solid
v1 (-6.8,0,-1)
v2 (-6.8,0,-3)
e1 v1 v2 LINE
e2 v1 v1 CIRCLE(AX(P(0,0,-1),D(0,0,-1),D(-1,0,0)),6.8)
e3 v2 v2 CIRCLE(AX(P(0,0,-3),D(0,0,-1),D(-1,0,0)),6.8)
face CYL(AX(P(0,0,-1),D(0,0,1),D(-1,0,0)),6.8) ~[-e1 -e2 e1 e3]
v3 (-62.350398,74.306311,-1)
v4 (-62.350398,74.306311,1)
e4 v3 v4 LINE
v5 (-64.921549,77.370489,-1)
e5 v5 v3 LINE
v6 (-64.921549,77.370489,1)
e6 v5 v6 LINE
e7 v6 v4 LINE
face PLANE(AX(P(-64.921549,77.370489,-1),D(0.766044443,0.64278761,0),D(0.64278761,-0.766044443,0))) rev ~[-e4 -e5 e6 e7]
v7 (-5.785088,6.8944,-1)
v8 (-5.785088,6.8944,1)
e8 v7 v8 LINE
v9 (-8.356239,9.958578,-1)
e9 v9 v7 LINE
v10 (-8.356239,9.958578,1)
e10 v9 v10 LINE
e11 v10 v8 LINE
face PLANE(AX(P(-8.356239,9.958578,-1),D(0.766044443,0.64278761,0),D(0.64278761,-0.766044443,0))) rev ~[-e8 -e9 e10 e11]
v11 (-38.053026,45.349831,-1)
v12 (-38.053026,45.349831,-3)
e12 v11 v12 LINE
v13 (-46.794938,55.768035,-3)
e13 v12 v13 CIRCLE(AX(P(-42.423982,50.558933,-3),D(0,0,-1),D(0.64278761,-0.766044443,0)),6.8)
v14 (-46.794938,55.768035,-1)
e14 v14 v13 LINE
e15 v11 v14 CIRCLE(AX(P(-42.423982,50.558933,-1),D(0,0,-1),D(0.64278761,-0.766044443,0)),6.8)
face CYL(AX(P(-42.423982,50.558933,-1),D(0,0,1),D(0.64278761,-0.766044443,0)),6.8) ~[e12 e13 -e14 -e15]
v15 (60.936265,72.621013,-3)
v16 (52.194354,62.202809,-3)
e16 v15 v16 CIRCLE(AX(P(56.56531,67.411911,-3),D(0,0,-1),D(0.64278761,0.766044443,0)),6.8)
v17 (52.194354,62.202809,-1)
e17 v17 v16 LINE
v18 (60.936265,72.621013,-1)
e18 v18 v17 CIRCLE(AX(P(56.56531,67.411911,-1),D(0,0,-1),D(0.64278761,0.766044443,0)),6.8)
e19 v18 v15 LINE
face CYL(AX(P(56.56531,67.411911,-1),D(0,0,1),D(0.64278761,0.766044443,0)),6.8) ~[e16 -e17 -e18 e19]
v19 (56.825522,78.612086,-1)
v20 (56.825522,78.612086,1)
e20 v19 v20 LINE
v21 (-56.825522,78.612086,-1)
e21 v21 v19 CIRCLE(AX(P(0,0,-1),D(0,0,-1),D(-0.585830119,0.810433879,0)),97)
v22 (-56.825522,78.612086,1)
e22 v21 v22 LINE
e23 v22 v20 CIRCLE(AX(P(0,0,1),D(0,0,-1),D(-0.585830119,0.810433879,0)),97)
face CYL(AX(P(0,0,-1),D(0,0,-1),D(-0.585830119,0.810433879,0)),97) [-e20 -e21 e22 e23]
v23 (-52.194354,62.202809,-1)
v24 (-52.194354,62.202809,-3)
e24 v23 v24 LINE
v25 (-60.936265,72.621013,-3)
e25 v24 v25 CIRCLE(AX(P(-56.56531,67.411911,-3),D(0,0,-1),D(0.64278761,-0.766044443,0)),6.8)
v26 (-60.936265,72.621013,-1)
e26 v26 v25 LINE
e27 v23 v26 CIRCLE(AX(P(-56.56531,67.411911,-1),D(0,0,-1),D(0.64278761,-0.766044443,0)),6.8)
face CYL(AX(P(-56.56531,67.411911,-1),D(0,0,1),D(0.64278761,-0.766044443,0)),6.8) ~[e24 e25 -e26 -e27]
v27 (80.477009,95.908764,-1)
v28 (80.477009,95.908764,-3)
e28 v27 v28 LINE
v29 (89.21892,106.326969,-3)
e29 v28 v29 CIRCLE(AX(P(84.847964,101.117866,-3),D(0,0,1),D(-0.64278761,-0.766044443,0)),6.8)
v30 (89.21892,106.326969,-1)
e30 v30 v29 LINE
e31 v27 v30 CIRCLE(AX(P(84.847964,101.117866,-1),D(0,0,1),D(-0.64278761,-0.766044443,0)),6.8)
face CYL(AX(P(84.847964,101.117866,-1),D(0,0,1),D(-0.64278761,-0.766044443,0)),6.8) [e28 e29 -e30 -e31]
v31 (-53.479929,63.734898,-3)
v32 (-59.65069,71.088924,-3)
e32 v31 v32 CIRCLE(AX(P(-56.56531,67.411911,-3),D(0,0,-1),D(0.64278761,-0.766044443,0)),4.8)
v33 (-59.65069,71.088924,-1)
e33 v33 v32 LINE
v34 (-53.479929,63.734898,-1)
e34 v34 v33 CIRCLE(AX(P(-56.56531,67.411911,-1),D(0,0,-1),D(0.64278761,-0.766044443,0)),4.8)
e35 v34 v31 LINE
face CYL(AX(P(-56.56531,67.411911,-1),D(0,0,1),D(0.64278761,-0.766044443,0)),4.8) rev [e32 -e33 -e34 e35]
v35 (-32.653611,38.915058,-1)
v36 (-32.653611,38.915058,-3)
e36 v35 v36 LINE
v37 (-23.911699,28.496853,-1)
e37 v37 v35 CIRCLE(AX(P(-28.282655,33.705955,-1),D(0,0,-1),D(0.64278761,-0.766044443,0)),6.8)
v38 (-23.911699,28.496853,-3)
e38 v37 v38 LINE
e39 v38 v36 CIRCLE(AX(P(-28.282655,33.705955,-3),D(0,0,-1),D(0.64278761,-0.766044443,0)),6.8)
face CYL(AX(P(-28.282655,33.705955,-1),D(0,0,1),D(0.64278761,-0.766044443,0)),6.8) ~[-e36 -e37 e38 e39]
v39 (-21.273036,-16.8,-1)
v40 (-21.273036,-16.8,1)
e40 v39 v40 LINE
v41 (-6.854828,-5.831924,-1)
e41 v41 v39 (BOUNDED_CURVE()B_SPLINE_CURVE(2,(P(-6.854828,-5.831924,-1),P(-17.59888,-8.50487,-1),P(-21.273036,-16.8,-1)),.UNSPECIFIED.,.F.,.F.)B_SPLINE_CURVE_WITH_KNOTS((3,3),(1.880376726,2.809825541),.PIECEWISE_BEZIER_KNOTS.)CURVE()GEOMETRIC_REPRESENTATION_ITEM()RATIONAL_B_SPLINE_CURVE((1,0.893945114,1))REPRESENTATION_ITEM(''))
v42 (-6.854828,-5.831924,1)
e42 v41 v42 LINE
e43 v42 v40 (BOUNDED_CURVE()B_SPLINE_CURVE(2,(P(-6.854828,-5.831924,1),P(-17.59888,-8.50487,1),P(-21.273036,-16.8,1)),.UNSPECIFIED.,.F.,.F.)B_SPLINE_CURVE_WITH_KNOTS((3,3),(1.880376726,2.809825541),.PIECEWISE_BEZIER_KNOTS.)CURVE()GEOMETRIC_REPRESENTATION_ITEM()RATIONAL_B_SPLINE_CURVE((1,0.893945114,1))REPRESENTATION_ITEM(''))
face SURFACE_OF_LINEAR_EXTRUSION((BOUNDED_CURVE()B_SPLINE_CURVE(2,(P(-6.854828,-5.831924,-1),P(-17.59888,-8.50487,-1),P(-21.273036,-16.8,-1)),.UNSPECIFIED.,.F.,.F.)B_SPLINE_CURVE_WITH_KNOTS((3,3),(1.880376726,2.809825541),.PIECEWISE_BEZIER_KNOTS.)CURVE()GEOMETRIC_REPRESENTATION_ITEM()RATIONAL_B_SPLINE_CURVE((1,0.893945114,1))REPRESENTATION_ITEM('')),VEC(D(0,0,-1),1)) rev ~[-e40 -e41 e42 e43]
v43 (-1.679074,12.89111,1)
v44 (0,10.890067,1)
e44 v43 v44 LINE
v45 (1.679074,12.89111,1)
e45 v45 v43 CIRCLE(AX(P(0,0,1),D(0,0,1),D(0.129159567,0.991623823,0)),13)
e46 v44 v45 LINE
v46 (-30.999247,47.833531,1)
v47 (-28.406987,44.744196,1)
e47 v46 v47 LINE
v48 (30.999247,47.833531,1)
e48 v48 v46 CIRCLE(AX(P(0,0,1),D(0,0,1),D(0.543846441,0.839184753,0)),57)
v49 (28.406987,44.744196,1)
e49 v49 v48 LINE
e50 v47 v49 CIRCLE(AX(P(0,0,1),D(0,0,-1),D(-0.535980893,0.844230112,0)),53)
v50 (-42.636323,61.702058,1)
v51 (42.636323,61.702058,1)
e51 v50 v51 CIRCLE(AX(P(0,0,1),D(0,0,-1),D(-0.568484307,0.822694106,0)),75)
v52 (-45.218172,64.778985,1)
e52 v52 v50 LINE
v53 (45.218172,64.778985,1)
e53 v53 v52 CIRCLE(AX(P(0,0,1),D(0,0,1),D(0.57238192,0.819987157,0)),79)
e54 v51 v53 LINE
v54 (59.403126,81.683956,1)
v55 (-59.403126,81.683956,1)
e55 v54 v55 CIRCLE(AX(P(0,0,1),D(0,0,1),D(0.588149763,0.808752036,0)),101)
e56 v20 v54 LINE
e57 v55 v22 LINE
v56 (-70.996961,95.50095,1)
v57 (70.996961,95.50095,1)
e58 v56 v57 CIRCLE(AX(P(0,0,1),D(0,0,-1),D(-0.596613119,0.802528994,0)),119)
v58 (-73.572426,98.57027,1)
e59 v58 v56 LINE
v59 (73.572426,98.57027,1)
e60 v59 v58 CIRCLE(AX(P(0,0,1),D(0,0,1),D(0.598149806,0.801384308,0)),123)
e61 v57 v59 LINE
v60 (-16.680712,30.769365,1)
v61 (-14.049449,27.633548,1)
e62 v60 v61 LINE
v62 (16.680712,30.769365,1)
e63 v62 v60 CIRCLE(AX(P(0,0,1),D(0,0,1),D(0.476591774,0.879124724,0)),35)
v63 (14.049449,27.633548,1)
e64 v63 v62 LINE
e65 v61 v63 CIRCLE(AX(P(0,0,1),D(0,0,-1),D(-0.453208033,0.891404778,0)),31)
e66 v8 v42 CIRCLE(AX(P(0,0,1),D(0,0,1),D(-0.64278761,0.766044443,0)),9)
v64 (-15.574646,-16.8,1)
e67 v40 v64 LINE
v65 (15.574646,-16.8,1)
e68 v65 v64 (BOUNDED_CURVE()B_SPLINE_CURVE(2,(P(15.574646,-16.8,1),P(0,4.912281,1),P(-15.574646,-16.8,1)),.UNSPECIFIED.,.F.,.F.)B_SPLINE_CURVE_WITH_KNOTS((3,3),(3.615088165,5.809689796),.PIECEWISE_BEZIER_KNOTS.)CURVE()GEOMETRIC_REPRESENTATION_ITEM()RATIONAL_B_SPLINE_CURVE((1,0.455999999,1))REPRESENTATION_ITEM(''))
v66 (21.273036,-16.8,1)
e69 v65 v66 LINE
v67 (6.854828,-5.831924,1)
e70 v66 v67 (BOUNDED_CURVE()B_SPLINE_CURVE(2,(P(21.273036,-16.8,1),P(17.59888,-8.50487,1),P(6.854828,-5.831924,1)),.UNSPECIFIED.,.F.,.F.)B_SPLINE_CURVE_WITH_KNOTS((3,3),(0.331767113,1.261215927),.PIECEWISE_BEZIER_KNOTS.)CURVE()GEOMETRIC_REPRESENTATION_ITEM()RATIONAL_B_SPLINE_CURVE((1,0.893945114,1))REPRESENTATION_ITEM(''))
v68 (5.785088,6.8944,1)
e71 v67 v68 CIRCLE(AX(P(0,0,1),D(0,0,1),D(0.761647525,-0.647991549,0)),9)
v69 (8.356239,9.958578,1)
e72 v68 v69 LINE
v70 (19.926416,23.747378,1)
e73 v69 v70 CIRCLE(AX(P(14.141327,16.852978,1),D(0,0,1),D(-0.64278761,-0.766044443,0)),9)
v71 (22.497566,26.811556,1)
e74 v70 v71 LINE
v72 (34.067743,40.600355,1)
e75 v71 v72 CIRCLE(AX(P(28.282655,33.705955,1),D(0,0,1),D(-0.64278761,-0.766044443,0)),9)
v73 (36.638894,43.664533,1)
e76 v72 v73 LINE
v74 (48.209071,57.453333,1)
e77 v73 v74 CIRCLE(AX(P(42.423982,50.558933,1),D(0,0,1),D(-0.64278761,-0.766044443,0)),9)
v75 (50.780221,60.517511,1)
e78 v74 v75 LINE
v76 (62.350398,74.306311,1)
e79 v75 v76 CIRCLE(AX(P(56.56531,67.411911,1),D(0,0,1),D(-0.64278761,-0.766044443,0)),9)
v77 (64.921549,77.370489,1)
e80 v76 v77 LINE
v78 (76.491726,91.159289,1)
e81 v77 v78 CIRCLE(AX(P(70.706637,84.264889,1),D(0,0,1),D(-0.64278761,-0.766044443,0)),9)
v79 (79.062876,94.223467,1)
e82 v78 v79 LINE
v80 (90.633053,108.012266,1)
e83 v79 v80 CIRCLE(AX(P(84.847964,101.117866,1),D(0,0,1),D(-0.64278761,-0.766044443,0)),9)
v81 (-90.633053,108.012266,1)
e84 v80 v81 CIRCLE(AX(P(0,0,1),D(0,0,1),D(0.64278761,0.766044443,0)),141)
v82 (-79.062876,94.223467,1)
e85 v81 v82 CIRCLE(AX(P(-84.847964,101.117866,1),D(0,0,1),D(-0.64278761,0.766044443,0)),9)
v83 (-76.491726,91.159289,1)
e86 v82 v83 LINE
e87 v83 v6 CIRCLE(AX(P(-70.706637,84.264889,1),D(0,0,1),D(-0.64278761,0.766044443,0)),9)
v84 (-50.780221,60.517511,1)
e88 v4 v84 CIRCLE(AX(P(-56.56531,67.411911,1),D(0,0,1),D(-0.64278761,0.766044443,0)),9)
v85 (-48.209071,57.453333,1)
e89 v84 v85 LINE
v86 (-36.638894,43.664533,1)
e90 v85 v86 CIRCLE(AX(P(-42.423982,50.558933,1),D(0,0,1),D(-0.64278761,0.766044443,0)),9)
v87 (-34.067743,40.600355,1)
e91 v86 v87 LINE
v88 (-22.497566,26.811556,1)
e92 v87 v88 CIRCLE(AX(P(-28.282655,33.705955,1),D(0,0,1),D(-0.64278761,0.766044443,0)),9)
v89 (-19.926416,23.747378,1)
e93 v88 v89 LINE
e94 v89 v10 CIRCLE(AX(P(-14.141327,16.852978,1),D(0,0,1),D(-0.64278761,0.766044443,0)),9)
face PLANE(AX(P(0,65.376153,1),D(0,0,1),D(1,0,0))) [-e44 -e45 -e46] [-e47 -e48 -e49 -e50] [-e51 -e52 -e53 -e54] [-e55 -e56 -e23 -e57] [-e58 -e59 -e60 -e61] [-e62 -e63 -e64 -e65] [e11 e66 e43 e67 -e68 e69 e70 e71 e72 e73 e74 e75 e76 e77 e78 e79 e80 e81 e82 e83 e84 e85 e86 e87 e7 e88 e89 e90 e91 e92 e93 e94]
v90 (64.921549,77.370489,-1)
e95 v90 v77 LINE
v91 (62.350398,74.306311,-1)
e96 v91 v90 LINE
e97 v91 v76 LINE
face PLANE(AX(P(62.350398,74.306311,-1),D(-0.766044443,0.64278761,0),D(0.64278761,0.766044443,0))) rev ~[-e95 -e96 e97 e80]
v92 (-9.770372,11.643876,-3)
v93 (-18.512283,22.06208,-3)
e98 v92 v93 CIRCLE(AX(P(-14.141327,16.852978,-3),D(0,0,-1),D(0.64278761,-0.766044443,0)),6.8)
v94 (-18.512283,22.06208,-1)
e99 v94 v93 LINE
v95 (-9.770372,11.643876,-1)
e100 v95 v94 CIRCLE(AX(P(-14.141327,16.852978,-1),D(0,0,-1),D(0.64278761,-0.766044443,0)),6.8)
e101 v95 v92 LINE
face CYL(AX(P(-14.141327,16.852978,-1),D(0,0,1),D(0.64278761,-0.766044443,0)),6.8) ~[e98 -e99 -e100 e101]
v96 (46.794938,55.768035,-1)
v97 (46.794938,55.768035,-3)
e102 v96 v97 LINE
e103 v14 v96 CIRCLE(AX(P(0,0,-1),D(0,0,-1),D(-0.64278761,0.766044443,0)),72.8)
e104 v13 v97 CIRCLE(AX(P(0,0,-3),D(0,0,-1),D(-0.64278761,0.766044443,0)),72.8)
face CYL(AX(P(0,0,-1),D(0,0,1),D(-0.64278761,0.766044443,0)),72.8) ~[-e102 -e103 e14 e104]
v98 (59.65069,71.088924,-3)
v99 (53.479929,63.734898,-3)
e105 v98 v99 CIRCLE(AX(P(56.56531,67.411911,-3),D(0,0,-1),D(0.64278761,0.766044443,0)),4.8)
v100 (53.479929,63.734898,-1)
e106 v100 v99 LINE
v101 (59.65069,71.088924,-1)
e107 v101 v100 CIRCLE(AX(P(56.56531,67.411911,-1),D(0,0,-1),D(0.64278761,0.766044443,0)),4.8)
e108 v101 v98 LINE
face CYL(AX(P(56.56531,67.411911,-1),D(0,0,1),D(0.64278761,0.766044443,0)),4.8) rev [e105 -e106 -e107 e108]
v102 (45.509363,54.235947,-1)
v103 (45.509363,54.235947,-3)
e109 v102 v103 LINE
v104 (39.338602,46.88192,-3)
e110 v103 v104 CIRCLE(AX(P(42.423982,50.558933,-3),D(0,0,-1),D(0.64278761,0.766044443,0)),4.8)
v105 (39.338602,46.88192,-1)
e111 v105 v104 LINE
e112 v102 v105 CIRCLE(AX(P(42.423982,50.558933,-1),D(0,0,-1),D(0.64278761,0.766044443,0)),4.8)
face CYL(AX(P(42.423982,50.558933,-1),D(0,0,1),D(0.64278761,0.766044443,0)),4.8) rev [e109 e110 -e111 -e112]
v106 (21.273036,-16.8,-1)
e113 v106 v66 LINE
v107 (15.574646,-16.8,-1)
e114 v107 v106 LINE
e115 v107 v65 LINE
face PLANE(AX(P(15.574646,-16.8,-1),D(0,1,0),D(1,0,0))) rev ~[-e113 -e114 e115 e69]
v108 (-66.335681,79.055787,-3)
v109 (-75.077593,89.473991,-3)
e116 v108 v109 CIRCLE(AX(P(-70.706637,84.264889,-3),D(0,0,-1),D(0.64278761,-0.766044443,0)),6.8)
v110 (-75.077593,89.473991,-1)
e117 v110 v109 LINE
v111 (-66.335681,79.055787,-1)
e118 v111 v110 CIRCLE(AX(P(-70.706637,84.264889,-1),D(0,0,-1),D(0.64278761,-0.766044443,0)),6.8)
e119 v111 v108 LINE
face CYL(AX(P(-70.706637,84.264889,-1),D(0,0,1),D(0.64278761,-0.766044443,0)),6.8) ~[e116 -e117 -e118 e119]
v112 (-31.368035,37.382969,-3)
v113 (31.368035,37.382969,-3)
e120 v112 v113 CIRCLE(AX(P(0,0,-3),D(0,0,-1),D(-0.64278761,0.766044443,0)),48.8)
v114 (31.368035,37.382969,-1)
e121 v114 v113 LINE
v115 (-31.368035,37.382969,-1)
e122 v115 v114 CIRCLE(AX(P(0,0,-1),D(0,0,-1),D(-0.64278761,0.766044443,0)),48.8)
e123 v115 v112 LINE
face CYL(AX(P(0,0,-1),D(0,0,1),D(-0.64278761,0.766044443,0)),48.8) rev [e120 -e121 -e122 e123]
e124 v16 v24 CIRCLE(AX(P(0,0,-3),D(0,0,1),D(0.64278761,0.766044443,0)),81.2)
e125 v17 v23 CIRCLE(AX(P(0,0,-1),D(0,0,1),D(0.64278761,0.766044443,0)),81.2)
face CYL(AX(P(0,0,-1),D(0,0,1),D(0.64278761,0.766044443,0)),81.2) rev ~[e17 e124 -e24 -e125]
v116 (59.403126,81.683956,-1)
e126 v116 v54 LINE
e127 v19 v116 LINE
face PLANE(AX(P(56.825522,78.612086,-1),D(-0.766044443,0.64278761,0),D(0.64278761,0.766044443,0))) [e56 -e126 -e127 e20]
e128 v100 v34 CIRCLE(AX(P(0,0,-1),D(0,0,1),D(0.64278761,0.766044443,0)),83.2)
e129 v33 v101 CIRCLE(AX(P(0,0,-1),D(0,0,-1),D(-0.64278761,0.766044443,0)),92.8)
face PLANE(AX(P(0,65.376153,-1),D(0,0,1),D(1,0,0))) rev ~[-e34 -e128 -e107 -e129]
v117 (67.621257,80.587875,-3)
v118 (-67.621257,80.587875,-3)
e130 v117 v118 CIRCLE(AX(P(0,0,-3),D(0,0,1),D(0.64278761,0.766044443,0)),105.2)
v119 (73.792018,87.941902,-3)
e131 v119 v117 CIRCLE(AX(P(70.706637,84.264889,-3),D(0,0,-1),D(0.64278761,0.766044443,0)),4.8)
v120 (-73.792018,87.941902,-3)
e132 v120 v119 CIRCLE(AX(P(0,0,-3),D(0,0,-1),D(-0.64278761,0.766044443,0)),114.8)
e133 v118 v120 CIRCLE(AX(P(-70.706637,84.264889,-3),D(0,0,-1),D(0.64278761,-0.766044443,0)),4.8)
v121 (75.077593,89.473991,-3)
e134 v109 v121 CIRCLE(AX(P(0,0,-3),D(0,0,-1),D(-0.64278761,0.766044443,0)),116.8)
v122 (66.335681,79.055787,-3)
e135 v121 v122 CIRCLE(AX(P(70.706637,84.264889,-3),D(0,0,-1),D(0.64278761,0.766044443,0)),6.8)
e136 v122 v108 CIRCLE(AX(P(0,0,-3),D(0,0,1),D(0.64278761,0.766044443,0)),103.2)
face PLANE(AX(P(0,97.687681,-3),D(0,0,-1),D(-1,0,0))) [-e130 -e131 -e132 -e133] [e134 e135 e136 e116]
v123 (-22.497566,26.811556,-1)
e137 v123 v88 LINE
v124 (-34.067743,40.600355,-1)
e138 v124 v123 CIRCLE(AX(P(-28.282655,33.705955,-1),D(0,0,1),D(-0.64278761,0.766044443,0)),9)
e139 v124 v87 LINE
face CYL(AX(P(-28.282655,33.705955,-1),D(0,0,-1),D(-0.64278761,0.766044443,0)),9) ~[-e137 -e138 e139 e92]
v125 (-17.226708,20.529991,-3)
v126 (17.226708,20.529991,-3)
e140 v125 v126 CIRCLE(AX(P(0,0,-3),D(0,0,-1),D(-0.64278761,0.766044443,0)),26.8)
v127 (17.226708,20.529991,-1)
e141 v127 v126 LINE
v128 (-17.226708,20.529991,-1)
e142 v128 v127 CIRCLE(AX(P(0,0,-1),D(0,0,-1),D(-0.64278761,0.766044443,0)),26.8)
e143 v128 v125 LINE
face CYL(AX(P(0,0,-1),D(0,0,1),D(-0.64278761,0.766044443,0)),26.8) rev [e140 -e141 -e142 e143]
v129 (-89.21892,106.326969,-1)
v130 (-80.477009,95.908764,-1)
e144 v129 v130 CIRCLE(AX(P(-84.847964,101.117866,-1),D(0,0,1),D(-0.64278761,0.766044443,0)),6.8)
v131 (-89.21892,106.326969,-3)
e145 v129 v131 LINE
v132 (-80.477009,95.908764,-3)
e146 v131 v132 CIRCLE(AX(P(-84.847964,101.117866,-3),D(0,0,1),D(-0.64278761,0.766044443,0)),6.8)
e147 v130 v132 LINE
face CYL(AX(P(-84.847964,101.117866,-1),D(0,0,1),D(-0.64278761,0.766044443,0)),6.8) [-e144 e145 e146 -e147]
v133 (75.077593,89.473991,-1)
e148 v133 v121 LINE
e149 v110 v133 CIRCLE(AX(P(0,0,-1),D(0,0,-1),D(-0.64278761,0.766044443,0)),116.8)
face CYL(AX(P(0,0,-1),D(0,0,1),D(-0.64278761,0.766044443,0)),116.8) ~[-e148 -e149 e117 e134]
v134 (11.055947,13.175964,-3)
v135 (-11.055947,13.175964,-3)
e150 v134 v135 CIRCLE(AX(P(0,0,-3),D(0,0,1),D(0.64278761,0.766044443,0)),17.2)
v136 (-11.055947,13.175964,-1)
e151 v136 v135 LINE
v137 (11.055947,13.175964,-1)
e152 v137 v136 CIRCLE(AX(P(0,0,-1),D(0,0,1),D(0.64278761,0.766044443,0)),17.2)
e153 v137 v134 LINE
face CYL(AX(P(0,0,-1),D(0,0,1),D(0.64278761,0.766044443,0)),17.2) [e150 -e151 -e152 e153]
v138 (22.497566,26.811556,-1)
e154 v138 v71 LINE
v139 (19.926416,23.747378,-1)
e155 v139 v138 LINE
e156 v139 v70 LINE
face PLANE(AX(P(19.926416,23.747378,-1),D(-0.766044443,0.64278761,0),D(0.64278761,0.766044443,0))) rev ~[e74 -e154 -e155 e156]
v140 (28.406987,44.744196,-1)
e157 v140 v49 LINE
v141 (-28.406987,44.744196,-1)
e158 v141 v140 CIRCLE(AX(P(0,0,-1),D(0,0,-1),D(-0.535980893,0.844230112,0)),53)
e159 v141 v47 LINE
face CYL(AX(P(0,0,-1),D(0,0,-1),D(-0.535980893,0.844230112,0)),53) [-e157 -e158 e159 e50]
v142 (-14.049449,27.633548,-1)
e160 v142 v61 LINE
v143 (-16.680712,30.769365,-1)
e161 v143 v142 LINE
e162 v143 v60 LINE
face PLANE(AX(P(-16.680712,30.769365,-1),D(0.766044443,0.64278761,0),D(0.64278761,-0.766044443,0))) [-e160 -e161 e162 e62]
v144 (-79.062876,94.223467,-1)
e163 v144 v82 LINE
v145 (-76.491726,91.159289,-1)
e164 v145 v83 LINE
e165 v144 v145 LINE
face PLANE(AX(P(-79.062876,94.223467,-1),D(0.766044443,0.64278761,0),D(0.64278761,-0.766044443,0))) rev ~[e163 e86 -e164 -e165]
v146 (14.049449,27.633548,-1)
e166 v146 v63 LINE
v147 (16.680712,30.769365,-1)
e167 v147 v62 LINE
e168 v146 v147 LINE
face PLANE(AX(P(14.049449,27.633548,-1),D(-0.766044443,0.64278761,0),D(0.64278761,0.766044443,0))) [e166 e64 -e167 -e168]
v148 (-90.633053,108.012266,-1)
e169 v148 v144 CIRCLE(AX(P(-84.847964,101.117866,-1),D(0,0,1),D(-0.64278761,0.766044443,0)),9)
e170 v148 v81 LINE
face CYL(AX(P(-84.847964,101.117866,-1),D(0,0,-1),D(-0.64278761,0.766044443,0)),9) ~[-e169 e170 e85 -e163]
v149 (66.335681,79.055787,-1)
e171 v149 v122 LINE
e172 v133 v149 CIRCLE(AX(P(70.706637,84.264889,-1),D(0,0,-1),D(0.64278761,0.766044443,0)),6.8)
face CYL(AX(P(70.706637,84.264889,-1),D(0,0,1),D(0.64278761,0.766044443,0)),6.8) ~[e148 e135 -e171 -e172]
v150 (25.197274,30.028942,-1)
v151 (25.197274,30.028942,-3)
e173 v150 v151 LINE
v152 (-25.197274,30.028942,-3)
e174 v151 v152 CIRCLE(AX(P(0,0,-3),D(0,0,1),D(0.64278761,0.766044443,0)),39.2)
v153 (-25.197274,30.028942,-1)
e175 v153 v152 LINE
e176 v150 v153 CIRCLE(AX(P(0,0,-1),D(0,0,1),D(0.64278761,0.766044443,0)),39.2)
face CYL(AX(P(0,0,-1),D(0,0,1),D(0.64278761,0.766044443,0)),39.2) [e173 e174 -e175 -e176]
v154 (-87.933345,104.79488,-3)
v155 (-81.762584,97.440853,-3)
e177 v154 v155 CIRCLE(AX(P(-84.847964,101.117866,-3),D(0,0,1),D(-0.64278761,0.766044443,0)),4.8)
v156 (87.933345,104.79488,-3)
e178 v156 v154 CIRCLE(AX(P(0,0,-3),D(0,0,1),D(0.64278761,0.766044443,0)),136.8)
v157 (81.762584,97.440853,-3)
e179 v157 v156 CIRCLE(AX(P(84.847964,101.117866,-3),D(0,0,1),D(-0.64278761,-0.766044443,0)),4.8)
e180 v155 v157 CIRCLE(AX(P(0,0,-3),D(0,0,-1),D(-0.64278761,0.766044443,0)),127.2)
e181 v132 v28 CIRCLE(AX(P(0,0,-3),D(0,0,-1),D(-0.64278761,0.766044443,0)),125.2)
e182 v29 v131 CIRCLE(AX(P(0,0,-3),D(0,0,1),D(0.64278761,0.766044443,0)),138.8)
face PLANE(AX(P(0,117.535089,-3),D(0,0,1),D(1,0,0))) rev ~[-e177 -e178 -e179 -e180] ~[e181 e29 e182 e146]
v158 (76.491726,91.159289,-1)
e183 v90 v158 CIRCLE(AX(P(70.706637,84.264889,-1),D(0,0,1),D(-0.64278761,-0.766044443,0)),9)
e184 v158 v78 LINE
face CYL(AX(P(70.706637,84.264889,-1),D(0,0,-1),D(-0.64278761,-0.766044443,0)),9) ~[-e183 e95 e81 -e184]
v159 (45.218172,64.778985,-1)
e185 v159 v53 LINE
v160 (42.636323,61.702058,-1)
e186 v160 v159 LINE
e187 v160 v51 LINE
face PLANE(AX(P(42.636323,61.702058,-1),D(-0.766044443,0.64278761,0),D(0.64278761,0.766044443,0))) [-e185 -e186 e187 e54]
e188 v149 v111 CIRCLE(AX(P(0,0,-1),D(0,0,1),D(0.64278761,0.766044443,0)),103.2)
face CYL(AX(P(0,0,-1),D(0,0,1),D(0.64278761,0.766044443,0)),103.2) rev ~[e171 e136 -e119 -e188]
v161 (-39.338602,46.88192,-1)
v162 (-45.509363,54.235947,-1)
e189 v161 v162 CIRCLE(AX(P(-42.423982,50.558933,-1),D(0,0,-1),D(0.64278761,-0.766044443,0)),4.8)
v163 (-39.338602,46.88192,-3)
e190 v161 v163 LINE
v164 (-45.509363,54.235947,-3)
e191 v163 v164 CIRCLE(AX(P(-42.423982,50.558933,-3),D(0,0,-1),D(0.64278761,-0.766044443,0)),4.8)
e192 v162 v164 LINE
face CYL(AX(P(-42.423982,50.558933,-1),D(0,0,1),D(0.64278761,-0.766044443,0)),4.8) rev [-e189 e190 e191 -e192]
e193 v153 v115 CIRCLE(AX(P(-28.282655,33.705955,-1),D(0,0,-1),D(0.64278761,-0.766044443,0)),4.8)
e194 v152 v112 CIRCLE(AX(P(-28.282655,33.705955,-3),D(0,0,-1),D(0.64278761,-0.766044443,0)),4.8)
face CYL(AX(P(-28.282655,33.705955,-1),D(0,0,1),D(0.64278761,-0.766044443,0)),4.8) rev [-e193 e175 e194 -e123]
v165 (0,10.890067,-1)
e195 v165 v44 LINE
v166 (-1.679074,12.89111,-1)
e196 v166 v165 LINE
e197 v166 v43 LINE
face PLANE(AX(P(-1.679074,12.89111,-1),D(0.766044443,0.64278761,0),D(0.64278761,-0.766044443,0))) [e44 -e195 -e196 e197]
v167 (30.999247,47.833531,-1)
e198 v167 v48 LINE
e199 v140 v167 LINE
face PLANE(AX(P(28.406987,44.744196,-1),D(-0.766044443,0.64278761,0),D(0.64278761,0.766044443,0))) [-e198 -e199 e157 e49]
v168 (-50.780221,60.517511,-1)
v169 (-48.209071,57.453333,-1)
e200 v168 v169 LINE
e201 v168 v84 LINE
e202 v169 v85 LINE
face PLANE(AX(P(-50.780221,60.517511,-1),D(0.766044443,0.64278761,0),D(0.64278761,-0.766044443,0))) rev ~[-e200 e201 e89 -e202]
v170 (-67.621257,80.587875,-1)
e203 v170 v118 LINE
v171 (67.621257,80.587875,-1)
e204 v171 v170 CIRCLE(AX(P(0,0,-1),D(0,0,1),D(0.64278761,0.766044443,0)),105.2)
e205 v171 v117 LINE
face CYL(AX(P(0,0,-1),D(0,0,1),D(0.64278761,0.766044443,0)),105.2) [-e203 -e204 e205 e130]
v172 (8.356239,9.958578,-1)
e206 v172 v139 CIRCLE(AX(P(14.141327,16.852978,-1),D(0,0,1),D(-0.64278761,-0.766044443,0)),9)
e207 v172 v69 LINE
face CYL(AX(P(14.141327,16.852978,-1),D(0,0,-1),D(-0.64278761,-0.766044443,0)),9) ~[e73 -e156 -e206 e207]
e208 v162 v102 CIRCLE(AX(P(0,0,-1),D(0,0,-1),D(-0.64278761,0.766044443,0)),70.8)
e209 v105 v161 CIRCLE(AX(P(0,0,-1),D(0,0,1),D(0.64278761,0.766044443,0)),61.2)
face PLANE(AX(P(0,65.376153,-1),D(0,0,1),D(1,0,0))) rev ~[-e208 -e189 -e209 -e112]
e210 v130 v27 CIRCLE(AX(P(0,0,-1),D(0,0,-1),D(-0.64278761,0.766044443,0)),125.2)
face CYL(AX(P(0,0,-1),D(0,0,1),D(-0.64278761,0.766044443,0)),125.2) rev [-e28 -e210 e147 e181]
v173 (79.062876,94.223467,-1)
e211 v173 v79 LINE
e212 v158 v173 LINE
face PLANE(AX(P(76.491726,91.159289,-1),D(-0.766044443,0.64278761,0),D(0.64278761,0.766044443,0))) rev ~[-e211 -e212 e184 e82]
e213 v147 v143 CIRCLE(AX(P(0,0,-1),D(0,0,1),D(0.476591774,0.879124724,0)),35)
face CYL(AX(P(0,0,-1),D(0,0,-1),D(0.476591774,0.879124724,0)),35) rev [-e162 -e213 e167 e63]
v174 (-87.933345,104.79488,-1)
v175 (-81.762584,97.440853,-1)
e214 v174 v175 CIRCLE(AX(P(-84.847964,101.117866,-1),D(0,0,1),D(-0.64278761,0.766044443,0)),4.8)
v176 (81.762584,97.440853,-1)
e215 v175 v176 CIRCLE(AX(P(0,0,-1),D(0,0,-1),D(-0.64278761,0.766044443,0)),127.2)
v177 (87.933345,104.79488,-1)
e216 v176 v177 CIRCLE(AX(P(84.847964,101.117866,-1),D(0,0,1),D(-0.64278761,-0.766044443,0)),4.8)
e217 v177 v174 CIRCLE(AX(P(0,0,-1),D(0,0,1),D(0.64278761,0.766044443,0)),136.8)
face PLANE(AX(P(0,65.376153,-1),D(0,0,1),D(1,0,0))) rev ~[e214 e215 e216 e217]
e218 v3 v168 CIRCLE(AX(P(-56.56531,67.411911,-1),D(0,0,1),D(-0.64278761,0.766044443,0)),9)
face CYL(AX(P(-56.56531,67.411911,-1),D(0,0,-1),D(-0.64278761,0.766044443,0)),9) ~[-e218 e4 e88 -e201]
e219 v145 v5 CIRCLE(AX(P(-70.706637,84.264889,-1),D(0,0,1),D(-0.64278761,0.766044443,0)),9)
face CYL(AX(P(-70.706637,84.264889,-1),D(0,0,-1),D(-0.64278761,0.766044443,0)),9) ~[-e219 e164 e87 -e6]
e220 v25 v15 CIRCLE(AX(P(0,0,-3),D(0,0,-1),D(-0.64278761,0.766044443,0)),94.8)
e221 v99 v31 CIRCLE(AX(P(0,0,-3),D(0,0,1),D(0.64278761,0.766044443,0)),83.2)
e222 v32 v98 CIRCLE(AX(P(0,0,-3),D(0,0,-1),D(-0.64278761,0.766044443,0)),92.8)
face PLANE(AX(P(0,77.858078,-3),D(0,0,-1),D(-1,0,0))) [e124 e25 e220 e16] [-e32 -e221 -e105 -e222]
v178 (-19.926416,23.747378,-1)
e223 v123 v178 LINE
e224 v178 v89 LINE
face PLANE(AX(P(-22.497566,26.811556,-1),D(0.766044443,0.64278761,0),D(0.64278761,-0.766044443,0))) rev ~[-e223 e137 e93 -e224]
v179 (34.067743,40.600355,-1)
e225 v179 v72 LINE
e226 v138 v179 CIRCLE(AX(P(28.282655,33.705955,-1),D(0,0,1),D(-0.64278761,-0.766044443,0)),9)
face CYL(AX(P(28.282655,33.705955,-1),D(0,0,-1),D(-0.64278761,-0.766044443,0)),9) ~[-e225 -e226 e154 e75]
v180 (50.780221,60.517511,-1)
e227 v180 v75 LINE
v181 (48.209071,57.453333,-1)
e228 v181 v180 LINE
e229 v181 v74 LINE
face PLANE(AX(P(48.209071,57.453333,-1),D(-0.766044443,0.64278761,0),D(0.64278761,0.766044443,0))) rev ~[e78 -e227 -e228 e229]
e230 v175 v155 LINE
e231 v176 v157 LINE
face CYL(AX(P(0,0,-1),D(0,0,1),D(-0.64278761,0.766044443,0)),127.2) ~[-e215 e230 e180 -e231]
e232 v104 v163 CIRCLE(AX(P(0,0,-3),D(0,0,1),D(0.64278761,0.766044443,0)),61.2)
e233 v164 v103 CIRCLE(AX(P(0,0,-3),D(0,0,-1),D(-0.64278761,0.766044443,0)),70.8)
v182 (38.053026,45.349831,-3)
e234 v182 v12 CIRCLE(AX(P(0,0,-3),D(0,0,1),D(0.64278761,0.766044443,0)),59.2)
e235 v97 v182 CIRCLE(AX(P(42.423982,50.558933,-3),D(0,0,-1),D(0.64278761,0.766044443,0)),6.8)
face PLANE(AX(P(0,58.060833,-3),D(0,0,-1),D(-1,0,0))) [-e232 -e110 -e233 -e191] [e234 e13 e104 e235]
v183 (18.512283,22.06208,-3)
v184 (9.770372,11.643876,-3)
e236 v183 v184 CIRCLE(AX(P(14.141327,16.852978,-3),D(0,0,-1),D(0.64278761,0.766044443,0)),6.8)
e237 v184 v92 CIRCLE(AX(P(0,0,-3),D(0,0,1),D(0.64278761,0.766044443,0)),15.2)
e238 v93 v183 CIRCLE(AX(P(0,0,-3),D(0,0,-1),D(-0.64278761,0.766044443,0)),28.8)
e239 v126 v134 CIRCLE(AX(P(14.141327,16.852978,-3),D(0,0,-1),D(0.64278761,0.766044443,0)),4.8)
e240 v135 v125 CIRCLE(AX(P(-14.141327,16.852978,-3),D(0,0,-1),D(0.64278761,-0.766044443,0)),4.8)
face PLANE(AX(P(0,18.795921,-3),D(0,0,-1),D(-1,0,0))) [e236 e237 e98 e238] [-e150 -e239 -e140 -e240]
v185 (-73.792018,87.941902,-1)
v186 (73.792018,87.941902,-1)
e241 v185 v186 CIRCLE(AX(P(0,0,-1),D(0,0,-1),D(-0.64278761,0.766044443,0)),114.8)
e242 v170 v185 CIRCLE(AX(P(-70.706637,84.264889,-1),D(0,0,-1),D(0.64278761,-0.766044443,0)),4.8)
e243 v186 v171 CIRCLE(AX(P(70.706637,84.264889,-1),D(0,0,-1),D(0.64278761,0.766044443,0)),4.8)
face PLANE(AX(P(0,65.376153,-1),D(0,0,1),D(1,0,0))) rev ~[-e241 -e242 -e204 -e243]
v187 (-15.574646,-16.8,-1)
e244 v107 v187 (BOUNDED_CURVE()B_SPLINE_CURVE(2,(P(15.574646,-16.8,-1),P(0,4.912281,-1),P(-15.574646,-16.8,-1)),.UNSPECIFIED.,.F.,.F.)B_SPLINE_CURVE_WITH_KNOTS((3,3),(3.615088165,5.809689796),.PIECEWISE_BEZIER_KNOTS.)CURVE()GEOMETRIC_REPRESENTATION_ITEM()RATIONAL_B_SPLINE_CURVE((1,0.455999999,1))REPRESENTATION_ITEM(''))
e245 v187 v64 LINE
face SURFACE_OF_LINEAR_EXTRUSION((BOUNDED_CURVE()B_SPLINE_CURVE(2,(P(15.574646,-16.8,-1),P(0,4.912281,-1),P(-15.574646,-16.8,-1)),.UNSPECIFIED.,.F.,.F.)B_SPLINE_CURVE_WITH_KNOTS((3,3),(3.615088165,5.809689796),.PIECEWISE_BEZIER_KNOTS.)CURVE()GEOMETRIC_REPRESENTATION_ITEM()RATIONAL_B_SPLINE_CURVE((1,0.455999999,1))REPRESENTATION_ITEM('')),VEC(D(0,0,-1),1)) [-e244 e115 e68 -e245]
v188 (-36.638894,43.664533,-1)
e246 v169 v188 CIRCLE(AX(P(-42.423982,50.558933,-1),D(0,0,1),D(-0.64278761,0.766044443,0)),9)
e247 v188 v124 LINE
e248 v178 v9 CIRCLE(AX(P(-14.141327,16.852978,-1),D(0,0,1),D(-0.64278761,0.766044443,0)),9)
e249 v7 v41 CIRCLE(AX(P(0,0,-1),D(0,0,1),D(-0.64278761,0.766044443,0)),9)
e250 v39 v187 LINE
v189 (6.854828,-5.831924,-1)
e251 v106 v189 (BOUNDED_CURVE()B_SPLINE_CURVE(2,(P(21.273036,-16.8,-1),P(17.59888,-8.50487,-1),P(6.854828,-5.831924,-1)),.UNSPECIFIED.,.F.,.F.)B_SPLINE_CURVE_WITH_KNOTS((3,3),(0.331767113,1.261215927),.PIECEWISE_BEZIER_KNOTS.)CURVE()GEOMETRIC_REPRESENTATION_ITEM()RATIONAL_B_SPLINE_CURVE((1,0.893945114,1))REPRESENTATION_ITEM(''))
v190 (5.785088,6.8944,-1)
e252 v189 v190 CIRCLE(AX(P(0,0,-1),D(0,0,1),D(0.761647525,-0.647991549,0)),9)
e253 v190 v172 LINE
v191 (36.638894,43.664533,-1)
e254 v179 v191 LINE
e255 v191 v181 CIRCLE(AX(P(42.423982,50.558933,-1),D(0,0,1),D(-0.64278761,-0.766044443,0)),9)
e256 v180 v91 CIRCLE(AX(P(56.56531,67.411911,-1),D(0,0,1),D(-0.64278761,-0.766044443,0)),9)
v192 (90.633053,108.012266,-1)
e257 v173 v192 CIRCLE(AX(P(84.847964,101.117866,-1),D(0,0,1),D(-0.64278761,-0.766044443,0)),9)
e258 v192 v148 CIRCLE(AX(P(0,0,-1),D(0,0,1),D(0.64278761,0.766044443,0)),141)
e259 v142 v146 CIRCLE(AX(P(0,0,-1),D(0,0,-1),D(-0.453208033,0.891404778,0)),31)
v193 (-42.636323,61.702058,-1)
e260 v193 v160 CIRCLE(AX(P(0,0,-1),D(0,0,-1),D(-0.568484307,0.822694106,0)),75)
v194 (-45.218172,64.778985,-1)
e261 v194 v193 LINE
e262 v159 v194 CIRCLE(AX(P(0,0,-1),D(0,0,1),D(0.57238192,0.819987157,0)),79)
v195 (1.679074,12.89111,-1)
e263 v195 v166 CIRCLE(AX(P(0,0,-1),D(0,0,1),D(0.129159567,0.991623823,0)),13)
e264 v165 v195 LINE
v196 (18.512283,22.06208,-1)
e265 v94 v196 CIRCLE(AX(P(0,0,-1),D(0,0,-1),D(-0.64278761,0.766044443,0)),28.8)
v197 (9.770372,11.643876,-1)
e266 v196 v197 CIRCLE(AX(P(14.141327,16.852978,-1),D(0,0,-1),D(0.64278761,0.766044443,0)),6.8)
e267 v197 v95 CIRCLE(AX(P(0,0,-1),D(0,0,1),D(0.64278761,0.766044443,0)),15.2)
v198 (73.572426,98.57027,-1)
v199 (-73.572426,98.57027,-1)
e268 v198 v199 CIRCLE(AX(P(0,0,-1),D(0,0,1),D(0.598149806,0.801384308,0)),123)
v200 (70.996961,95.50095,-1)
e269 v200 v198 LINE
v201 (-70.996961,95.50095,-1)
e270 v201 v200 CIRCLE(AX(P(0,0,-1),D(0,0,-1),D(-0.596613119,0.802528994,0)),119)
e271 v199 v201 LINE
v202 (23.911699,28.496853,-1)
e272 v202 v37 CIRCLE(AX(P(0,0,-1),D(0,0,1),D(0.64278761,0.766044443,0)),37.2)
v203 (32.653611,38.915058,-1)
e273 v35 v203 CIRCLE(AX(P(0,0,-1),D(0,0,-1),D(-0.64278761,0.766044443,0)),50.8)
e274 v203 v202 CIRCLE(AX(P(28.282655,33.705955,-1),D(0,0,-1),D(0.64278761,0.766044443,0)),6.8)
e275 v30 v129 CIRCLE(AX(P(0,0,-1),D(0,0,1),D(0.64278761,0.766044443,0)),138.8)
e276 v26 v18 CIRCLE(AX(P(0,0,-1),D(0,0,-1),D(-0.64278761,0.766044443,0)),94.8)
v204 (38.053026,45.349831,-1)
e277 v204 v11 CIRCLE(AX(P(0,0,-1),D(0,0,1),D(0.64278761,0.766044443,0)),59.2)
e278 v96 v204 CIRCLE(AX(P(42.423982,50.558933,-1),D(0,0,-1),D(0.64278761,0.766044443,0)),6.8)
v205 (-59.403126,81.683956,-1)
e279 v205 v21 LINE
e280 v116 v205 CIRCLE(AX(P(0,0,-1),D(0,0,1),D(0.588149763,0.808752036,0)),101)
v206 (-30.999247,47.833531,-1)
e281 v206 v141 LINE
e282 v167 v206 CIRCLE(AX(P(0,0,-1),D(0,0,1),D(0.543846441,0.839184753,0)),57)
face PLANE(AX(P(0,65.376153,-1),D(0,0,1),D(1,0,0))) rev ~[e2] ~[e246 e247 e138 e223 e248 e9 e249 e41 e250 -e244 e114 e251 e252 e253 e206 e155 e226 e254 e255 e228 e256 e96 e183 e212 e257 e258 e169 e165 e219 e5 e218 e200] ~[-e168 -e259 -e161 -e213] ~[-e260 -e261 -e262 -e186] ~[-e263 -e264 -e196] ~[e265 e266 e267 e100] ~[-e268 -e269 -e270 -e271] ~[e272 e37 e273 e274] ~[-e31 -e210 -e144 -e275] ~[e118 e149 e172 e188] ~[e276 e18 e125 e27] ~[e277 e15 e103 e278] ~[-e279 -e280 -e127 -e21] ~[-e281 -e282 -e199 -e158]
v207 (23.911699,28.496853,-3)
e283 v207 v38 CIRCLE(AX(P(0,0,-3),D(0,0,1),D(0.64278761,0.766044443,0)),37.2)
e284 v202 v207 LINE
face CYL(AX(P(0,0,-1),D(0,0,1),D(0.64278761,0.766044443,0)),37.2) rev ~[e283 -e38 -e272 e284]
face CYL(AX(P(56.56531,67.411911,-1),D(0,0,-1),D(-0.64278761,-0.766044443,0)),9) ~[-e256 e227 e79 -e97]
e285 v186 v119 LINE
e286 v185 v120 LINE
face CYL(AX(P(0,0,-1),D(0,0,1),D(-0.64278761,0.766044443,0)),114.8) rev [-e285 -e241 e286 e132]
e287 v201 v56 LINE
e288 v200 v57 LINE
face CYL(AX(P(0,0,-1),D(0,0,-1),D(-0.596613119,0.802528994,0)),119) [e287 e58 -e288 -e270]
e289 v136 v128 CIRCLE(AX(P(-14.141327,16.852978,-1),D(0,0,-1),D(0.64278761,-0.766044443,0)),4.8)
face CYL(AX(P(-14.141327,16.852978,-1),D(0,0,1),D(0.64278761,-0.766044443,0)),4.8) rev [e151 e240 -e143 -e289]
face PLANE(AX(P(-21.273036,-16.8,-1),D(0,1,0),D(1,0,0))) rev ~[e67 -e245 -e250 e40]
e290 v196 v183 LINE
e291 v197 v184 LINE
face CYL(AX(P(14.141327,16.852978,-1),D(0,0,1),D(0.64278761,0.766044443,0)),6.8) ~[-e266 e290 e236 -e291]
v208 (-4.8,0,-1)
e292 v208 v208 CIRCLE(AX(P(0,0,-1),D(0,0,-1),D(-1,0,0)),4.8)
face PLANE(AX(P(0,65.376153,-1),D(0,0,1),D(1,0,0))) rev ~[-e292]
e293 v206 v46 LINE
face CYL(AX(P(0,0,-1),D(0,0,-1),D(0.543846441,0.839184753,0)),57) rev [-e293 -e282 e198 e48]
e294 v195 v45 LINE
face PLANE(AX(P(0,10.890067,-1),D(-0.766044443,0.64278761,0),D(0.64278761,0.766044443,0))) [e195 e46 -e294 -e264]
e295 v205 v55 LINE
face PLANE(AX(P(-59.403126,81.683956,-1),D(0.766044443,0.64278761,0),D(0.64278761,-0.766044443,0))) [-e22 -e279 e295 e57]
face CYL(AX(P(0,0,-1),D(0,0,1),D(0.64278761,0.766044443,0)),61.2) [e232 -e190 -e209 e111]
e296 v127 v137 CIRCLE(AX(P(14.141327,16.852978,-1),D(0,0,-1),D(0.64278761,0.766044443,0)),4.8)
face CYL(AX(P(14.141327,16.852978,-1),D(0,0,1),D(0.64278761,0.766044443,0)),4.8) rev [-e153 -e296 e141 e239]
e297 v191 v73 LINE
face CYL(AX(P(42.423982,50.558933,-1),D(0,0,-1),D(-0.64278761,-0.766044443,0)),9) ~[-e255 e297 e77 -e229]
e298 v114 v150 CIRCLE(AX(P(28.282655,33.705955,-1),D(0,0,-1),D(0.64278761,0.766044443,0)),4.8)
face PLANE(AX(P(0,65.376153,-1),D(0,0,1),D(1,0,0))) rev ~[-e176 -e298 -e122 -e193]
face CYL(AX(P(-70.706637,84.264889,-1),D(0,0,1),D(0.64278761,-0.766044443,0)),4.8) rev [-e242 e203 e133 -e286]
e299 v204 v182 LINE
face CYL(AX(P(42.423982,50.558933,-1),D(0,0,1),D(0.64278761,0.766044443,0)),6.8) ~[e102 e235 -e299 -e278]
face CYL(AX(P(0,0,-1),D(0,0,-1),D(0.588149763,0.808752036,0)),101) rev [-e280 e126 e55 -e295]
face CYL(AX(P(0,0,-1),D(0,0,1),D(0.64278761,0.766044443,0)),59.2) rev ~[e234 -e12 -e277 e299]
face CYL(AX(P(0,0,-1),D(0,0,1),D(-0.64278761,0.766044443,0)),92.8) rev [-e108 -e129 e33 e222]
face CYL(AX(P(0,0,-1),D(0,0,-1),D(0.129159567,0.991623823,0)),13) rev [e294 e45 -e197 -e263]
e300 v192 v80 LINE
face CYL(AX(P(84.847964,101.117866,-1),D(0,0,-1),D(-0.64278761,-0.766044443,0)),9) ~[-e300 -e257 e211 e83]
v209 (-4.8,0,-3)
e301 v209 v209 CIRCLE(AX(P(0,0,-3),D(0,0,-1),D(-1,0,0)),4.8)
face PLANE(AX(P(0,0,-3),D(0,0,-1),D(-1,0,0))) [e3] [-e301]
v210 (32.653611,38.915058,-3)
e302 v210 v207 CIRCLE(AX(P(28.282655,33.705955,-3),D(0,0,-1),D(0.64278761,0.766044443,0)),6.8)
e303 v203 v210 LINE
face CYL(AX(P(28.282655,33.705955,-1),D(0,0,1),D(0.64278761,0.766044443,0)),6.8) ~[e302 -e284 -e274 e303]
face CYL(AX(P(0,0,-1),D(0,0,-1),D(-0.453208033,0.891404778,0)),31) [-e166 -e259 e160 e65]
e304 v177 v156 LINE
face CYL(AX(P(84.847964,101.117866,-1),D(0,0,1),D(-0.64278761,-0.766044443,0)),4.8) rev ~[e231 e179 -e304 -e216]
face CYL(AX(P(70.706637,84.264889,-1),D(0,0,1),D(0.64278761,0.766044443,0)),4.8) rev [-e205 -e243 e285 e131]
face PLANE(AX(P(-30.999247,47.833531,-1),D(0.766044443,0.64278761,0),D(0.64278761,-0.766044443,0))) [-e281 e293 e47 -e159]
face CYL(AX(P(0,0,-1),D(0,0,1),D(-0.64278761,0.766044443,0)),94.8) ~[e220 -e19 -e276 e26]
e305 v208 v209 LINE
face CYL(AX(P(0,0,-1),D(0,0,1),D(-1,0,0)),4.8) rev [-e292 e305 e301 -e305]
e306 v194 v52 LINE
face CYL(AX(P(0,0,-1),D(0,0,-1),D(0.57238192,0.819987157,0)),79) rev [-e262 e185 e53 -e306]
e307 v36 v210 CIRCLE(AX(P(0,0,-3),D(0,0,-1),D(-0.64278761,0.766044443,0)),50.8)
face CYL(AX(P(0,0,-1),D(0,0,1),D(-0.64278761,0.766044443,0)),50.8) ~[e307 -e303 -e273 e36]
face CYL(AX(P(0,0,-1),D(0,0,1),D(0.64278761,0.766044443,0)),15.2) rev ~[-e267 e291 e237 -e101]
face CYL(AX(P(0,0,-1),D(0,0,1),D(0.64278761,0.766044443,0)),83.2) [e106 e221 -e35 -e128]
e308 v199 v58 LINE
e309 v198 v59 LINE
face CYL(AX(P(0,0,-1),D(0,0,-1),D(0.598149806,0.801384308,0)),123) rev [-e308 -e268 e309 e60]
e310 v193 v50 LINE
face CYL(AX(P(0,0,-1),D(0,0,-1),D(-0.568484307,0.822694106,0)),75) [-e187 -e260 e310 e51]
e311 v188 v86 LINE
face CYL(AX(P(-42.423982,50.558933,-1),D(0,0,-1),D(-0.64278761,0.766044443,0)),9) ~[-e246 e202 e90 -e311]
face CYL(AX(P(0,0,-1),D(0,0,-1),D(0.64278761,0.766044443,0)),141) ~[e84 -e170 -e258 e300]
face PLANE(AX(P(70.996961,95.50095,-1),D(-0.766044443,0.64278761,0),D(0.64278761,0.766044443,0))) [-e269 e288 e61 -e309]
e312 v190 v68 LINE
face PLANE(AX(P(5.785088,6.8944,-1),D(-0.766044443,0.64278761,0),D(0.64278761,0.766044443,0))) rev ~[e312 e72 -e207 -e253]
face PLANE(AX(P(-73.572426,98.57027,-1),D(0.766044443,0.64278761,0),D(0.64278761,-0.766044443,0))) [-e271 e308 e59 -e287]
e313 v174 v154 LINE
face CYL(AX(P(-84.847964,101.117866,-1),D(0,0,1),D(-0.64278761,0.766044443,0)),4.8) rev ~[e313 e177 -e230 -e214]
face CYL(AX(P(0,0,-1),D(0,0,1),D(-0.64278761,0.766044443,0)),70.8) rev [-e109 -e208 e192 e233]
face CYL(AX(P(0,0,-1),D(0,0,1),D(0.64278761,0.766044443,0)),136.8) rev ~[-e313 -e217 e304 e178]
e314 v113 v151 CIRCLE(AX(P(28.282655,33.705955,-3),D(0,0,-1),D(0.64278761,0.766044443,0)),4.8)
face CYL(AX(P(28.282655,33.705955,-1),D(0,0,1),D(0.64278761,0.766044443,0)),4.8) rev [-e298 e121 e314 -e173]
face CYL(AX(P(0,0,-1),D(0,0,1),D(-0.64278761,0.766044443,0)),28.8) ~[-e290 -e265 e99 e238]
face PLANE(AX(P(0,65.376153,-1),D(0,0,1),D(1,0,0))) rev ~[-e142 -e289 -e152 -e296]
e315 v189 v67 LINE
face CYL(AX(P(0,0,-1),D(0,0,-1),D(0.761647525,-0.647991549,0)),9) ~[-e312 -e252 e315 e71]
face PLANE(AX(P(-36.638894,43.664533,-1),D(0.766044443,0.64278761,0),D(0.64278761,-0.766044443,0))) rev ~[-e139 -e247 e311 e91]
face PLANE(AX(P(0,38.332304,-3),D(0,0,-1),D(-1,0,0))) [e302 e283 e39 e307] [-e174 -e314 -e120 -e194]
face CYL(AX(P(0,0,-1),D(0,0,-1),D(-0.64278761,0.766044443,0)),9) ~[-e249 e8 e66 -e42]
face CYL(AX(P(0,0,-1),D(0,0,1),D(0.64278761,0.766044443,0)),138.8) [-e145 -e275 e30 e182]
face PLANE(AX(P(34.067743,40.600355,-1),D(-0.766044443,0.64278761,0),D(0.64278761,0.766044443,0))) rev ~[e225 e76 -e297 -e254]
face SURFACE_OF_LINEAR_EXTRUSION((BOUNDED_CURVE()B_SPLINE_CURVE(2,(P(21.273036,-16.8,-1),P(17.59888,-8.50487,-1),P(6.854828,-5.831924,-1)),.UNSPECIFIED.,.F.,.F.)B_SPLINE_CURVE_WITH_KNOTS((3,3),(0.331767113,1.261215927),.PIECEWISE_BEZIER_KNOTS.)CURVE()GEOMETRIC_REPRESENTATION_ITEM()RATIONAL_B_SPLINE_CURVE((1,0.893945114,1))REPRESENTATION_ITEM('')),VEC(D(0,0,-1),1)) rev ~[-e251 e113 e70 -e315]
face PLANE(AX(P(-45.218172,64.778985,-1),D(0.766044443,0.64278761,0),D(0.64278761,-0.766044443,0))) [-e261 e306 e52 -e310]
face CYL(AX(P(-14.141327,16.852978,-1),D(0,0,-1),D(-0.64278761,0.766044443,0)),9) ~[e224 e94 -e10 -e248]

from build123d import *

# Parameters (mm, degrees)
BOSS_EXTRUDE1_DEPTH      = 1
BOSS_EXTRUDE1_DEPTH_BACK = 1
SKETCH2_R                = 6.8
SKETCH2_R_2              = 4.8
BOSS_EXTRUDE2_DEPTH      = 2


with BuildPart() as part:
    # Sketch1 → Boss-Extrude1 (new, two sides: drawn at the far end of the back side and taken through both)
    with BuildSketch(Plane.XY.offset(-BOSS_EXTRUDE1_DEPTH_BACK)):
        with BuildLine():
            Line((-79.062875991, 94.223466504), (-76.491725553, 91.159288731))
            ThreePointArc((-76.491725553, 91.159288731), (-77.601037054, 78.479800256), (-64.921548578, 77.370488755))
            Line((-64.921548578, 77.370488755), (-62.35039814, 74.306310983))
            ThreePointArc((-62.35039814, 74.306310983), (-63.45970964, 61.626822507), (-50.780221165, 60.517511006))
            Line((-50.780221165, 60.517511006), (-48.209070726, 57.453333234))
            ThreePointArc((-48.209070726, 57.453333234), (-49.318382227, 44.773844759), (-36.638893752, 43.664533258))
            Line((-36.638893752, 43.664533258), (-34.067743313, 40.600355485))
            ThreePointArc((-34.067743313, 40.600355485), (-35.177054814, 27.92086701), (-22.497566339, 26.811555509))
            Line((-22.497566339, 26.811555509), (-19.9264159, 23.747377737))
            ThreePointArc((-19.9264159, 23.747377737), (-21.035727401, 11.067889261), (-8.356238926, 9.958577761))
            Line((-8.356238926, 9.958577761), (-5.785088487, 6.894399988))
            ThreePointArc((-5.785088487, 6.894399988), (-8.968372241, 0.753856314), (-6.854827722, -5.831923945))
            add(Edge.make_bspline(
                [(-6.854827722, -5.831923945), (-17.598880273, -8.504870382), (-21.273035539, -16.800000012)],
                knots=[1.880376726, 1.880376726, 1.880376726, 2.809825541, 2.809825541, 2.809825541], degree=2, weights=[1, 0.893945114, 1]))
            Line((-21.273035539, -16.800000012), (-15.574646072, -16.800000012))
            add(Edge.make_bspline(
                [(15.574646072, -16.800000012), (0, 4.91228076), (-15.574646072, -16.800000012)],
                knots=[3.615088165, 3.615088165, 3.615088165, 5.809689796, 5.809689796, 5.809689796], degree=2, weights=[1, 0.455999999, 1]))
            Line((15.574646072, -16.800000012), (21.273035539, -16.800000012))
            add(Edge.make_bspline(
                [(21.273035539, -16.800000012), (17.598880273, -8.504870382), (6.854827722, -5.831923945)],
                knots=[0.331767113, 0.331767113, 0.331767113, 1.261215927, 1.261215927, 1.261215927], degree=2, weights=[1, 0.893945114, 1]))
            ThreePointArc((6.854827722, -5.831923945), (8.968372241, 0.753856314), (5.785088487, 6.894399988))
            Line((5.785088487, 6.894399988), (8.356238926, 9.958577761))
            ThreePointArc((8.356238926, 9.958577761), (21.035727401, 11.067889261), (19.9264159, 23.747377737))
            Line((19.9264159, 23.747377737), (22.497566339, 26.811555509))
            ThreePointArc((22.497566339, 26.811555509), (35.177054814, 27.92086701), (34.067743313, 40.600355485))
            Line((34.067743313, 40.600355485), (36.638893752, 43.664533258))
            ThreePointArc((36.638893752, 43.664533258), (49.318382227, 44.773844759), (48.209070726, 57.453333234))
            Line((48.209070726, 57.453333234), (50.780221165, 60.517511006))
            ThreePointArc((50.780221165, 60.517511006), (63.45970964, 61.626822507), (62.35039814, 74.306310983))
            Line((62.35039814, 74.306310983), (64.921548578, 77.370488755))
            ThreePointArc((64.921548578, 77.370488755), (77.601037054, 78.479800256), (76.491725553, 91.159288731))
            Line((76.491725553, 91.159288731), (79.062875991, 94.223466504))
            ThreePointArc((79.062875991, 94.223466504), (91.742364467, 95.332778005), (90.633052966, 108.01226648))
            ThreePointArc((90.633052966, 108.01226648), (0, 141), (-90.633052966, 108.01226648))
            ThreePointArc((-90.633052966, 108.01226648), (-91.742364467, 95.332778005), (-79.062875991, 94.223466504))
        make_face()
        with BuildLine():
            Line((-73.572426121, 98.570269933), (-70.996961147, 95.500950298))
            ThreePointArc((-70.996961147, 95.500950298), (0, 119), (70.996961147, 95.500950298))
            Line((70.996961147, 95.500950298), (73.572426121, 98.570269933))
            ThreePointArc((73.572426121, 98.570269933), (0, 123), (-73.572426121, 98.570269933))
        make_face(mode=Mode.SUBTRACT)
        with BuildLine():
            Line((-59.403126055, 81.683955676), (-56.825521539, 78.612086233))
            ThreePointArc((-56.825521539, 78.612086233), (0, 97), (56.825521539, 78.612086233))
            Line((56.825521539, 78.612086233), (59.403126055, 81.683955676))
            ThreePointArc((59.403126055, 81.683955676), (0, 101), (-59.403126055, 81.683955676))
        make_face(mode=Mode.SUBTRACT)
        with BuildLine():
            Line((-45.218171715, 64.778985379), (-42.636323052, 61.702057961))
            ThreePointArc((-42.636323052, 61.702057961), (0, 75), (42.636323052, 61.702057961))
            Line((42.636323052, 61.702057961), (45.218171715, 64.778985379))
            ThreePointArc((45.218171715, 64.778985379), (0, 79), (-45.218171715, 64.778985379))
        make_face(mode=Mode.SUBTRACT)
        with BuildLine():
            Line((-30.999247112, 47.833530901), (-28.406987304, 44.744195962))
            ThreePointArc((-28.406987304, 44.744195962), (0, 53), (28.406987304, 44.744195962))
            Line((28.406987304, 44.744195962), (30.999247112, 47.833530901))
            ThreePointArc((30.999247112, 47.833530901), (0, 57), (-30.999247112, 47.833530901))
        make_face(mode=Mode.SUBTRACT)
        with BuildLine():
            Line((-16.680712092, 30.769365351), (-14.049449019, 27.63354813))
            ThreePointArc((-14.049449019, 27.63354813), (0, 31), (14.049449019, 27.63354813))
            Line((14.049449019, 27.63354813), (16.680712092, 30.769365351))
            ThreePointArc((16.680712092, 30.769365351), (0, 35), (-16.680712092, 30.769365351))
        make_face(mode=Mode.SUBTRACT)
        with BuildLine():
            Line((-1.679074368, 12.891109699), (0, 10.890066788))
            Line((0, 10.890066788), (1.679074368, 12.891109699))
            ThreePointArc((1.679074368, 12.891109699), (0, 13), (-1.679074368, 12.891109699))
        make_face(mode=Mode.SUBTRACT)
    extrude(amount=BOSS_EXTRUDE1_DEPTH + BOSS_EXTRUDE1_DEPTH_BACK)

    # Sketch2 → Boss-Extrude2 (add)
    # profile 1 of 7: a face of its own
    with BuildSketch(Plane(origin=(0, 0, -1), x_dir=(-1, 0, 0), z_dir=(0, 0, -1))):
        Circle(SKETCH2_R)
        Circle(SKETCH2_R_2, mode=Mode.SUBTRACT)
    # profile 2 of 7: a face of its own
    with BuildSketch(Plane(origin=(0, 0, -1), x_dir=(-1, 0, 0), z_dir=(0, 0, -1))):
        with BuildLine():
            ThreePointArc((80.477008733, 95.908764278), (0, 125.2), (-80.477008733, 95.908764278))
            ThreePointArc((-80.477008733, 95.908764278), (-90.057066692, 96.746910746), (-89.218920224, 106.326968705))
            ThreePointArc((-89.218920224, 106.326968705), (0, 138.8), (89.218920224, 106.326968705))
            ThreePointArc((89.218920224, 106.326968705), (90.057066692, 96.746910746), (80.477008733, 95.908764278))
        make_face()
        with BuildLine():
            ThreePointArc((81.762583952, 97.440853165), (0, 127.2), (-81.762583952, 97.440853165))
            ThreePointArc((-81.762583952, 97.440853165), (-88.524977806, 98.032485965), (-87.933345005, 104.794879819))
            ThreePointArc((-87.933345005, 104.794879819), (0, 136.8), (87.933345005, 104.794879819))
            ThreePointArc((87.933345005, 104.794879819), (88.524977806, 98.032485965), (81.762583952, 97.440853165))
        make_face(mode=Mode.SUBTRACT)
    # profile 3 of 7: a face of its own
    with BuildSketch(Plane(origin=(0, 0, -1), x_dir=(-1, 0, 0), z_dir=(0, 0, -1))):
        with BuildLine():
            ThreePointArc((75.077592811, 89.473990956), (0, 116.8), (-75.077592811, 89.473990956))
            ThreePointArc((-75.077592811, 89.473990956), (-75.915739279, 79.893932997), (-66.33568132, 79.05578653))
            ThreePointArc((-66.33568132, 79.05578653), (0, 103.2), (66.33568132, 79.05578653))
            ThreePointArc((66.33568132, 79.05578653), (75.915739279, 79.893932997), (75.077592811, 89.473990956))
        make_face()
        with BuildLine():
            ThreePointArc((73.792017592, 87.94190207), (0, 114.8), (-73.792017592, 87.94190207))
            ThreePointArc((-73.792017592, 87.94190207), (-74.383650392, 81.179508217), (-67.621256539, 80.587875416))
            ThreePointArc((-67.621256539, 80.587875416), (0, 105.2), (67.621256539, 80.587875416))
            ThreePointArc((67.621256539, 80.587875416), (74.383650392, 81.179508217), (73.792017592, 87.94190207))
        make_face(mode=Mode.SUBTRACT)
    # profile 4 of 7: a face of its own
    with BuildSketch(Plane(origin=(0, 0, -1), x_dir=(-1, 0, 0), z_dir=(0, 0, -1))):
        with BuildLine():
            ThreePointArc((23.91169908, 28.496853284), (33.491757039, 29.334999751), (32.653610572, 38.91505771))
            ThreePointArc((32.653610572, 38.91505771), (0, 50.8), (-32.653610572, 38.91505771))
            ThreePointArc((-32.653610572, 38.91505771), (-33.491757039, 29.334999751), (-23.91169908, 28.496853284))
            ThreePointArc((-23.91169908, 28.496853284), (0, 37.2), (23.91169908, 28.496853284))
        make_face()
        with BuildLine():
            ThreePointArc((25.1972743, 30.02894217), (31.959668153, 30.620574971), (31.368035353, 37.382968824))
            ThreePointArc((31.368035353, 37.382968824), (0, 48.8), (-31.368035353, 37.382968824))
            ThreePointArc((-31.368035353, 37.382968824), (-31.959668153, 30.620574971), (-25.1972743, 30.02894217))
            ThreePointArc((-25.1972743, 30.02894217), (0, 39.2), (25.1972743, 30.02894217))
        make_face(mode=Mode.SUBTRACT)
    # profile 5 of 7: a face of its own
    with BuildSketch(Plane(origin=(0, 0, -1), x_dir=(-1, 0, 0), z_dir=(0, 0, -1))):
        with BuildLine():
            ThreePointArc((38.053026493, 45.349831033), (47.633084453, 46.1879775), (46.794937985, 55.768035459))
            ThreePointArc((46.794937985, 55.768035459), (0, 72.8), (-46.794937985, 55.768035459))
            ThreePointArc((-46.794937985, 55.768035459), (-47.633084453, 46.1879775), (-38.053026493, 45.349831033))
            ThreePointArc((-38.053026493, 45.349831033), (0, 59.2), (38.053026493, 45.349831033))
        make_face()
        with BuildLine():
            ThreePointArc((39.338601713, 46.881919919), (46.100995566, 47.473552719), (45.509362766, 54.235946573))
            ThreePointArc((45.509362766, 54.235946573), (0, 70.8), (-45.509362766, 54.235946573))
            ThreePointArc((-45.509362766, 54.235946573), (-46.100995566, 47.473552719), (-39.338601713, 46.881919919))
            ThreePointArc((-39.338601713, 46.881919919), (0, 61.2), (39.338601713, 46.881919919))
        make_face(mode=Mode.SUBTRACT)
    # profile 6 of 7: a face of its own
    with BuildSketch(Plane(origin=(0, 0, -1), x_dir=(-1, 0, 0), z_dir=(0, 0, -1))):
        with BuildLine():
            ThreePointArc((52.194353907, 62.202808781), (61.774411866, 63.040955249), (60.936265398, 72.621013208))
            ThreePointArc((60.936265398, 72.621013208), (0, 94.8), (-60.936265398, 72.621013208))
            ThreePointArc((-60.936265398, 72.621013208), (-61.774411866, 63.040955249), (-52.194353907, 62.202808781))
            ThreePointArc((-52.194353907, 62.202808781), (0, 81.2), (52.194353907, 62.202808781))
        make_face()
        with BuildLine():
            ThreePointArc((53.479929126, 63.734897667), (60.242322979, 64.326530468), (59.650690179, 71.088924321))
            ThreePointArc((59.650690179, 71.088924321), (0, 92.8), (-59.650690179, 71.088924321))
            ThreePointArc((-59.650690179, 71.088924321), (-60.242322979, 64.326530468), (-53.479929126, 63.734897667))
            ThreePointArc((-53.479929126, 63.734897667), (0, 83.2), (53.479929126, 63.734897667))
        make_face(mode=Mode.SUBTRACT)
    # profile 7 of 7: a face of its own
    with BuildSketch(Plane(origin=(0, 0, -1), x_dir=(-1, 0, 0), z_dir=(0, 0, -1))):
        with BuildLine():
            ThreePointArc((-18.512283159, 22.062079962), (-19.350429626, 12.482022003), (-9.770371667, 11.643875535))
            ThreePointArc((-9.770371667, 11.643875535), (0, 15.2), (9.770371667, 11.643875535))
            ThreePointArc((9.770371667, 11.643875535), (19.350429626, 12.482022003), (18.512283159, 22.062079962))
            ThreePointArc((18.512283159, 22.062079962), (0, 28.8), (-18.512283159, 22.062079962))
        make_face()
        with BuildLine():
            ThreePointArc((-17.22670794, 20.529991076), (-17.81834074, 13.767597222), (-11.055946887, 13.175964422))
            ThreePointArc((-11.055946887, 13.175964422), (0, 17.2), (11.055946887, 13.175964422))
            ThreePointArc((11.055946887, 13.175964422), (17.81834074, 13.767597222), (17.22670794, 20.529991076))
            ThreePointArc((17.22670794, 20.529991076), (0, 26.8), (-17.22670794, 20.529991076))
        make_face(mode=Mode.SUBTRACT)
    extrude(amount=BOSS_EXTRUDE2_DEPTH)


solid = part.part
